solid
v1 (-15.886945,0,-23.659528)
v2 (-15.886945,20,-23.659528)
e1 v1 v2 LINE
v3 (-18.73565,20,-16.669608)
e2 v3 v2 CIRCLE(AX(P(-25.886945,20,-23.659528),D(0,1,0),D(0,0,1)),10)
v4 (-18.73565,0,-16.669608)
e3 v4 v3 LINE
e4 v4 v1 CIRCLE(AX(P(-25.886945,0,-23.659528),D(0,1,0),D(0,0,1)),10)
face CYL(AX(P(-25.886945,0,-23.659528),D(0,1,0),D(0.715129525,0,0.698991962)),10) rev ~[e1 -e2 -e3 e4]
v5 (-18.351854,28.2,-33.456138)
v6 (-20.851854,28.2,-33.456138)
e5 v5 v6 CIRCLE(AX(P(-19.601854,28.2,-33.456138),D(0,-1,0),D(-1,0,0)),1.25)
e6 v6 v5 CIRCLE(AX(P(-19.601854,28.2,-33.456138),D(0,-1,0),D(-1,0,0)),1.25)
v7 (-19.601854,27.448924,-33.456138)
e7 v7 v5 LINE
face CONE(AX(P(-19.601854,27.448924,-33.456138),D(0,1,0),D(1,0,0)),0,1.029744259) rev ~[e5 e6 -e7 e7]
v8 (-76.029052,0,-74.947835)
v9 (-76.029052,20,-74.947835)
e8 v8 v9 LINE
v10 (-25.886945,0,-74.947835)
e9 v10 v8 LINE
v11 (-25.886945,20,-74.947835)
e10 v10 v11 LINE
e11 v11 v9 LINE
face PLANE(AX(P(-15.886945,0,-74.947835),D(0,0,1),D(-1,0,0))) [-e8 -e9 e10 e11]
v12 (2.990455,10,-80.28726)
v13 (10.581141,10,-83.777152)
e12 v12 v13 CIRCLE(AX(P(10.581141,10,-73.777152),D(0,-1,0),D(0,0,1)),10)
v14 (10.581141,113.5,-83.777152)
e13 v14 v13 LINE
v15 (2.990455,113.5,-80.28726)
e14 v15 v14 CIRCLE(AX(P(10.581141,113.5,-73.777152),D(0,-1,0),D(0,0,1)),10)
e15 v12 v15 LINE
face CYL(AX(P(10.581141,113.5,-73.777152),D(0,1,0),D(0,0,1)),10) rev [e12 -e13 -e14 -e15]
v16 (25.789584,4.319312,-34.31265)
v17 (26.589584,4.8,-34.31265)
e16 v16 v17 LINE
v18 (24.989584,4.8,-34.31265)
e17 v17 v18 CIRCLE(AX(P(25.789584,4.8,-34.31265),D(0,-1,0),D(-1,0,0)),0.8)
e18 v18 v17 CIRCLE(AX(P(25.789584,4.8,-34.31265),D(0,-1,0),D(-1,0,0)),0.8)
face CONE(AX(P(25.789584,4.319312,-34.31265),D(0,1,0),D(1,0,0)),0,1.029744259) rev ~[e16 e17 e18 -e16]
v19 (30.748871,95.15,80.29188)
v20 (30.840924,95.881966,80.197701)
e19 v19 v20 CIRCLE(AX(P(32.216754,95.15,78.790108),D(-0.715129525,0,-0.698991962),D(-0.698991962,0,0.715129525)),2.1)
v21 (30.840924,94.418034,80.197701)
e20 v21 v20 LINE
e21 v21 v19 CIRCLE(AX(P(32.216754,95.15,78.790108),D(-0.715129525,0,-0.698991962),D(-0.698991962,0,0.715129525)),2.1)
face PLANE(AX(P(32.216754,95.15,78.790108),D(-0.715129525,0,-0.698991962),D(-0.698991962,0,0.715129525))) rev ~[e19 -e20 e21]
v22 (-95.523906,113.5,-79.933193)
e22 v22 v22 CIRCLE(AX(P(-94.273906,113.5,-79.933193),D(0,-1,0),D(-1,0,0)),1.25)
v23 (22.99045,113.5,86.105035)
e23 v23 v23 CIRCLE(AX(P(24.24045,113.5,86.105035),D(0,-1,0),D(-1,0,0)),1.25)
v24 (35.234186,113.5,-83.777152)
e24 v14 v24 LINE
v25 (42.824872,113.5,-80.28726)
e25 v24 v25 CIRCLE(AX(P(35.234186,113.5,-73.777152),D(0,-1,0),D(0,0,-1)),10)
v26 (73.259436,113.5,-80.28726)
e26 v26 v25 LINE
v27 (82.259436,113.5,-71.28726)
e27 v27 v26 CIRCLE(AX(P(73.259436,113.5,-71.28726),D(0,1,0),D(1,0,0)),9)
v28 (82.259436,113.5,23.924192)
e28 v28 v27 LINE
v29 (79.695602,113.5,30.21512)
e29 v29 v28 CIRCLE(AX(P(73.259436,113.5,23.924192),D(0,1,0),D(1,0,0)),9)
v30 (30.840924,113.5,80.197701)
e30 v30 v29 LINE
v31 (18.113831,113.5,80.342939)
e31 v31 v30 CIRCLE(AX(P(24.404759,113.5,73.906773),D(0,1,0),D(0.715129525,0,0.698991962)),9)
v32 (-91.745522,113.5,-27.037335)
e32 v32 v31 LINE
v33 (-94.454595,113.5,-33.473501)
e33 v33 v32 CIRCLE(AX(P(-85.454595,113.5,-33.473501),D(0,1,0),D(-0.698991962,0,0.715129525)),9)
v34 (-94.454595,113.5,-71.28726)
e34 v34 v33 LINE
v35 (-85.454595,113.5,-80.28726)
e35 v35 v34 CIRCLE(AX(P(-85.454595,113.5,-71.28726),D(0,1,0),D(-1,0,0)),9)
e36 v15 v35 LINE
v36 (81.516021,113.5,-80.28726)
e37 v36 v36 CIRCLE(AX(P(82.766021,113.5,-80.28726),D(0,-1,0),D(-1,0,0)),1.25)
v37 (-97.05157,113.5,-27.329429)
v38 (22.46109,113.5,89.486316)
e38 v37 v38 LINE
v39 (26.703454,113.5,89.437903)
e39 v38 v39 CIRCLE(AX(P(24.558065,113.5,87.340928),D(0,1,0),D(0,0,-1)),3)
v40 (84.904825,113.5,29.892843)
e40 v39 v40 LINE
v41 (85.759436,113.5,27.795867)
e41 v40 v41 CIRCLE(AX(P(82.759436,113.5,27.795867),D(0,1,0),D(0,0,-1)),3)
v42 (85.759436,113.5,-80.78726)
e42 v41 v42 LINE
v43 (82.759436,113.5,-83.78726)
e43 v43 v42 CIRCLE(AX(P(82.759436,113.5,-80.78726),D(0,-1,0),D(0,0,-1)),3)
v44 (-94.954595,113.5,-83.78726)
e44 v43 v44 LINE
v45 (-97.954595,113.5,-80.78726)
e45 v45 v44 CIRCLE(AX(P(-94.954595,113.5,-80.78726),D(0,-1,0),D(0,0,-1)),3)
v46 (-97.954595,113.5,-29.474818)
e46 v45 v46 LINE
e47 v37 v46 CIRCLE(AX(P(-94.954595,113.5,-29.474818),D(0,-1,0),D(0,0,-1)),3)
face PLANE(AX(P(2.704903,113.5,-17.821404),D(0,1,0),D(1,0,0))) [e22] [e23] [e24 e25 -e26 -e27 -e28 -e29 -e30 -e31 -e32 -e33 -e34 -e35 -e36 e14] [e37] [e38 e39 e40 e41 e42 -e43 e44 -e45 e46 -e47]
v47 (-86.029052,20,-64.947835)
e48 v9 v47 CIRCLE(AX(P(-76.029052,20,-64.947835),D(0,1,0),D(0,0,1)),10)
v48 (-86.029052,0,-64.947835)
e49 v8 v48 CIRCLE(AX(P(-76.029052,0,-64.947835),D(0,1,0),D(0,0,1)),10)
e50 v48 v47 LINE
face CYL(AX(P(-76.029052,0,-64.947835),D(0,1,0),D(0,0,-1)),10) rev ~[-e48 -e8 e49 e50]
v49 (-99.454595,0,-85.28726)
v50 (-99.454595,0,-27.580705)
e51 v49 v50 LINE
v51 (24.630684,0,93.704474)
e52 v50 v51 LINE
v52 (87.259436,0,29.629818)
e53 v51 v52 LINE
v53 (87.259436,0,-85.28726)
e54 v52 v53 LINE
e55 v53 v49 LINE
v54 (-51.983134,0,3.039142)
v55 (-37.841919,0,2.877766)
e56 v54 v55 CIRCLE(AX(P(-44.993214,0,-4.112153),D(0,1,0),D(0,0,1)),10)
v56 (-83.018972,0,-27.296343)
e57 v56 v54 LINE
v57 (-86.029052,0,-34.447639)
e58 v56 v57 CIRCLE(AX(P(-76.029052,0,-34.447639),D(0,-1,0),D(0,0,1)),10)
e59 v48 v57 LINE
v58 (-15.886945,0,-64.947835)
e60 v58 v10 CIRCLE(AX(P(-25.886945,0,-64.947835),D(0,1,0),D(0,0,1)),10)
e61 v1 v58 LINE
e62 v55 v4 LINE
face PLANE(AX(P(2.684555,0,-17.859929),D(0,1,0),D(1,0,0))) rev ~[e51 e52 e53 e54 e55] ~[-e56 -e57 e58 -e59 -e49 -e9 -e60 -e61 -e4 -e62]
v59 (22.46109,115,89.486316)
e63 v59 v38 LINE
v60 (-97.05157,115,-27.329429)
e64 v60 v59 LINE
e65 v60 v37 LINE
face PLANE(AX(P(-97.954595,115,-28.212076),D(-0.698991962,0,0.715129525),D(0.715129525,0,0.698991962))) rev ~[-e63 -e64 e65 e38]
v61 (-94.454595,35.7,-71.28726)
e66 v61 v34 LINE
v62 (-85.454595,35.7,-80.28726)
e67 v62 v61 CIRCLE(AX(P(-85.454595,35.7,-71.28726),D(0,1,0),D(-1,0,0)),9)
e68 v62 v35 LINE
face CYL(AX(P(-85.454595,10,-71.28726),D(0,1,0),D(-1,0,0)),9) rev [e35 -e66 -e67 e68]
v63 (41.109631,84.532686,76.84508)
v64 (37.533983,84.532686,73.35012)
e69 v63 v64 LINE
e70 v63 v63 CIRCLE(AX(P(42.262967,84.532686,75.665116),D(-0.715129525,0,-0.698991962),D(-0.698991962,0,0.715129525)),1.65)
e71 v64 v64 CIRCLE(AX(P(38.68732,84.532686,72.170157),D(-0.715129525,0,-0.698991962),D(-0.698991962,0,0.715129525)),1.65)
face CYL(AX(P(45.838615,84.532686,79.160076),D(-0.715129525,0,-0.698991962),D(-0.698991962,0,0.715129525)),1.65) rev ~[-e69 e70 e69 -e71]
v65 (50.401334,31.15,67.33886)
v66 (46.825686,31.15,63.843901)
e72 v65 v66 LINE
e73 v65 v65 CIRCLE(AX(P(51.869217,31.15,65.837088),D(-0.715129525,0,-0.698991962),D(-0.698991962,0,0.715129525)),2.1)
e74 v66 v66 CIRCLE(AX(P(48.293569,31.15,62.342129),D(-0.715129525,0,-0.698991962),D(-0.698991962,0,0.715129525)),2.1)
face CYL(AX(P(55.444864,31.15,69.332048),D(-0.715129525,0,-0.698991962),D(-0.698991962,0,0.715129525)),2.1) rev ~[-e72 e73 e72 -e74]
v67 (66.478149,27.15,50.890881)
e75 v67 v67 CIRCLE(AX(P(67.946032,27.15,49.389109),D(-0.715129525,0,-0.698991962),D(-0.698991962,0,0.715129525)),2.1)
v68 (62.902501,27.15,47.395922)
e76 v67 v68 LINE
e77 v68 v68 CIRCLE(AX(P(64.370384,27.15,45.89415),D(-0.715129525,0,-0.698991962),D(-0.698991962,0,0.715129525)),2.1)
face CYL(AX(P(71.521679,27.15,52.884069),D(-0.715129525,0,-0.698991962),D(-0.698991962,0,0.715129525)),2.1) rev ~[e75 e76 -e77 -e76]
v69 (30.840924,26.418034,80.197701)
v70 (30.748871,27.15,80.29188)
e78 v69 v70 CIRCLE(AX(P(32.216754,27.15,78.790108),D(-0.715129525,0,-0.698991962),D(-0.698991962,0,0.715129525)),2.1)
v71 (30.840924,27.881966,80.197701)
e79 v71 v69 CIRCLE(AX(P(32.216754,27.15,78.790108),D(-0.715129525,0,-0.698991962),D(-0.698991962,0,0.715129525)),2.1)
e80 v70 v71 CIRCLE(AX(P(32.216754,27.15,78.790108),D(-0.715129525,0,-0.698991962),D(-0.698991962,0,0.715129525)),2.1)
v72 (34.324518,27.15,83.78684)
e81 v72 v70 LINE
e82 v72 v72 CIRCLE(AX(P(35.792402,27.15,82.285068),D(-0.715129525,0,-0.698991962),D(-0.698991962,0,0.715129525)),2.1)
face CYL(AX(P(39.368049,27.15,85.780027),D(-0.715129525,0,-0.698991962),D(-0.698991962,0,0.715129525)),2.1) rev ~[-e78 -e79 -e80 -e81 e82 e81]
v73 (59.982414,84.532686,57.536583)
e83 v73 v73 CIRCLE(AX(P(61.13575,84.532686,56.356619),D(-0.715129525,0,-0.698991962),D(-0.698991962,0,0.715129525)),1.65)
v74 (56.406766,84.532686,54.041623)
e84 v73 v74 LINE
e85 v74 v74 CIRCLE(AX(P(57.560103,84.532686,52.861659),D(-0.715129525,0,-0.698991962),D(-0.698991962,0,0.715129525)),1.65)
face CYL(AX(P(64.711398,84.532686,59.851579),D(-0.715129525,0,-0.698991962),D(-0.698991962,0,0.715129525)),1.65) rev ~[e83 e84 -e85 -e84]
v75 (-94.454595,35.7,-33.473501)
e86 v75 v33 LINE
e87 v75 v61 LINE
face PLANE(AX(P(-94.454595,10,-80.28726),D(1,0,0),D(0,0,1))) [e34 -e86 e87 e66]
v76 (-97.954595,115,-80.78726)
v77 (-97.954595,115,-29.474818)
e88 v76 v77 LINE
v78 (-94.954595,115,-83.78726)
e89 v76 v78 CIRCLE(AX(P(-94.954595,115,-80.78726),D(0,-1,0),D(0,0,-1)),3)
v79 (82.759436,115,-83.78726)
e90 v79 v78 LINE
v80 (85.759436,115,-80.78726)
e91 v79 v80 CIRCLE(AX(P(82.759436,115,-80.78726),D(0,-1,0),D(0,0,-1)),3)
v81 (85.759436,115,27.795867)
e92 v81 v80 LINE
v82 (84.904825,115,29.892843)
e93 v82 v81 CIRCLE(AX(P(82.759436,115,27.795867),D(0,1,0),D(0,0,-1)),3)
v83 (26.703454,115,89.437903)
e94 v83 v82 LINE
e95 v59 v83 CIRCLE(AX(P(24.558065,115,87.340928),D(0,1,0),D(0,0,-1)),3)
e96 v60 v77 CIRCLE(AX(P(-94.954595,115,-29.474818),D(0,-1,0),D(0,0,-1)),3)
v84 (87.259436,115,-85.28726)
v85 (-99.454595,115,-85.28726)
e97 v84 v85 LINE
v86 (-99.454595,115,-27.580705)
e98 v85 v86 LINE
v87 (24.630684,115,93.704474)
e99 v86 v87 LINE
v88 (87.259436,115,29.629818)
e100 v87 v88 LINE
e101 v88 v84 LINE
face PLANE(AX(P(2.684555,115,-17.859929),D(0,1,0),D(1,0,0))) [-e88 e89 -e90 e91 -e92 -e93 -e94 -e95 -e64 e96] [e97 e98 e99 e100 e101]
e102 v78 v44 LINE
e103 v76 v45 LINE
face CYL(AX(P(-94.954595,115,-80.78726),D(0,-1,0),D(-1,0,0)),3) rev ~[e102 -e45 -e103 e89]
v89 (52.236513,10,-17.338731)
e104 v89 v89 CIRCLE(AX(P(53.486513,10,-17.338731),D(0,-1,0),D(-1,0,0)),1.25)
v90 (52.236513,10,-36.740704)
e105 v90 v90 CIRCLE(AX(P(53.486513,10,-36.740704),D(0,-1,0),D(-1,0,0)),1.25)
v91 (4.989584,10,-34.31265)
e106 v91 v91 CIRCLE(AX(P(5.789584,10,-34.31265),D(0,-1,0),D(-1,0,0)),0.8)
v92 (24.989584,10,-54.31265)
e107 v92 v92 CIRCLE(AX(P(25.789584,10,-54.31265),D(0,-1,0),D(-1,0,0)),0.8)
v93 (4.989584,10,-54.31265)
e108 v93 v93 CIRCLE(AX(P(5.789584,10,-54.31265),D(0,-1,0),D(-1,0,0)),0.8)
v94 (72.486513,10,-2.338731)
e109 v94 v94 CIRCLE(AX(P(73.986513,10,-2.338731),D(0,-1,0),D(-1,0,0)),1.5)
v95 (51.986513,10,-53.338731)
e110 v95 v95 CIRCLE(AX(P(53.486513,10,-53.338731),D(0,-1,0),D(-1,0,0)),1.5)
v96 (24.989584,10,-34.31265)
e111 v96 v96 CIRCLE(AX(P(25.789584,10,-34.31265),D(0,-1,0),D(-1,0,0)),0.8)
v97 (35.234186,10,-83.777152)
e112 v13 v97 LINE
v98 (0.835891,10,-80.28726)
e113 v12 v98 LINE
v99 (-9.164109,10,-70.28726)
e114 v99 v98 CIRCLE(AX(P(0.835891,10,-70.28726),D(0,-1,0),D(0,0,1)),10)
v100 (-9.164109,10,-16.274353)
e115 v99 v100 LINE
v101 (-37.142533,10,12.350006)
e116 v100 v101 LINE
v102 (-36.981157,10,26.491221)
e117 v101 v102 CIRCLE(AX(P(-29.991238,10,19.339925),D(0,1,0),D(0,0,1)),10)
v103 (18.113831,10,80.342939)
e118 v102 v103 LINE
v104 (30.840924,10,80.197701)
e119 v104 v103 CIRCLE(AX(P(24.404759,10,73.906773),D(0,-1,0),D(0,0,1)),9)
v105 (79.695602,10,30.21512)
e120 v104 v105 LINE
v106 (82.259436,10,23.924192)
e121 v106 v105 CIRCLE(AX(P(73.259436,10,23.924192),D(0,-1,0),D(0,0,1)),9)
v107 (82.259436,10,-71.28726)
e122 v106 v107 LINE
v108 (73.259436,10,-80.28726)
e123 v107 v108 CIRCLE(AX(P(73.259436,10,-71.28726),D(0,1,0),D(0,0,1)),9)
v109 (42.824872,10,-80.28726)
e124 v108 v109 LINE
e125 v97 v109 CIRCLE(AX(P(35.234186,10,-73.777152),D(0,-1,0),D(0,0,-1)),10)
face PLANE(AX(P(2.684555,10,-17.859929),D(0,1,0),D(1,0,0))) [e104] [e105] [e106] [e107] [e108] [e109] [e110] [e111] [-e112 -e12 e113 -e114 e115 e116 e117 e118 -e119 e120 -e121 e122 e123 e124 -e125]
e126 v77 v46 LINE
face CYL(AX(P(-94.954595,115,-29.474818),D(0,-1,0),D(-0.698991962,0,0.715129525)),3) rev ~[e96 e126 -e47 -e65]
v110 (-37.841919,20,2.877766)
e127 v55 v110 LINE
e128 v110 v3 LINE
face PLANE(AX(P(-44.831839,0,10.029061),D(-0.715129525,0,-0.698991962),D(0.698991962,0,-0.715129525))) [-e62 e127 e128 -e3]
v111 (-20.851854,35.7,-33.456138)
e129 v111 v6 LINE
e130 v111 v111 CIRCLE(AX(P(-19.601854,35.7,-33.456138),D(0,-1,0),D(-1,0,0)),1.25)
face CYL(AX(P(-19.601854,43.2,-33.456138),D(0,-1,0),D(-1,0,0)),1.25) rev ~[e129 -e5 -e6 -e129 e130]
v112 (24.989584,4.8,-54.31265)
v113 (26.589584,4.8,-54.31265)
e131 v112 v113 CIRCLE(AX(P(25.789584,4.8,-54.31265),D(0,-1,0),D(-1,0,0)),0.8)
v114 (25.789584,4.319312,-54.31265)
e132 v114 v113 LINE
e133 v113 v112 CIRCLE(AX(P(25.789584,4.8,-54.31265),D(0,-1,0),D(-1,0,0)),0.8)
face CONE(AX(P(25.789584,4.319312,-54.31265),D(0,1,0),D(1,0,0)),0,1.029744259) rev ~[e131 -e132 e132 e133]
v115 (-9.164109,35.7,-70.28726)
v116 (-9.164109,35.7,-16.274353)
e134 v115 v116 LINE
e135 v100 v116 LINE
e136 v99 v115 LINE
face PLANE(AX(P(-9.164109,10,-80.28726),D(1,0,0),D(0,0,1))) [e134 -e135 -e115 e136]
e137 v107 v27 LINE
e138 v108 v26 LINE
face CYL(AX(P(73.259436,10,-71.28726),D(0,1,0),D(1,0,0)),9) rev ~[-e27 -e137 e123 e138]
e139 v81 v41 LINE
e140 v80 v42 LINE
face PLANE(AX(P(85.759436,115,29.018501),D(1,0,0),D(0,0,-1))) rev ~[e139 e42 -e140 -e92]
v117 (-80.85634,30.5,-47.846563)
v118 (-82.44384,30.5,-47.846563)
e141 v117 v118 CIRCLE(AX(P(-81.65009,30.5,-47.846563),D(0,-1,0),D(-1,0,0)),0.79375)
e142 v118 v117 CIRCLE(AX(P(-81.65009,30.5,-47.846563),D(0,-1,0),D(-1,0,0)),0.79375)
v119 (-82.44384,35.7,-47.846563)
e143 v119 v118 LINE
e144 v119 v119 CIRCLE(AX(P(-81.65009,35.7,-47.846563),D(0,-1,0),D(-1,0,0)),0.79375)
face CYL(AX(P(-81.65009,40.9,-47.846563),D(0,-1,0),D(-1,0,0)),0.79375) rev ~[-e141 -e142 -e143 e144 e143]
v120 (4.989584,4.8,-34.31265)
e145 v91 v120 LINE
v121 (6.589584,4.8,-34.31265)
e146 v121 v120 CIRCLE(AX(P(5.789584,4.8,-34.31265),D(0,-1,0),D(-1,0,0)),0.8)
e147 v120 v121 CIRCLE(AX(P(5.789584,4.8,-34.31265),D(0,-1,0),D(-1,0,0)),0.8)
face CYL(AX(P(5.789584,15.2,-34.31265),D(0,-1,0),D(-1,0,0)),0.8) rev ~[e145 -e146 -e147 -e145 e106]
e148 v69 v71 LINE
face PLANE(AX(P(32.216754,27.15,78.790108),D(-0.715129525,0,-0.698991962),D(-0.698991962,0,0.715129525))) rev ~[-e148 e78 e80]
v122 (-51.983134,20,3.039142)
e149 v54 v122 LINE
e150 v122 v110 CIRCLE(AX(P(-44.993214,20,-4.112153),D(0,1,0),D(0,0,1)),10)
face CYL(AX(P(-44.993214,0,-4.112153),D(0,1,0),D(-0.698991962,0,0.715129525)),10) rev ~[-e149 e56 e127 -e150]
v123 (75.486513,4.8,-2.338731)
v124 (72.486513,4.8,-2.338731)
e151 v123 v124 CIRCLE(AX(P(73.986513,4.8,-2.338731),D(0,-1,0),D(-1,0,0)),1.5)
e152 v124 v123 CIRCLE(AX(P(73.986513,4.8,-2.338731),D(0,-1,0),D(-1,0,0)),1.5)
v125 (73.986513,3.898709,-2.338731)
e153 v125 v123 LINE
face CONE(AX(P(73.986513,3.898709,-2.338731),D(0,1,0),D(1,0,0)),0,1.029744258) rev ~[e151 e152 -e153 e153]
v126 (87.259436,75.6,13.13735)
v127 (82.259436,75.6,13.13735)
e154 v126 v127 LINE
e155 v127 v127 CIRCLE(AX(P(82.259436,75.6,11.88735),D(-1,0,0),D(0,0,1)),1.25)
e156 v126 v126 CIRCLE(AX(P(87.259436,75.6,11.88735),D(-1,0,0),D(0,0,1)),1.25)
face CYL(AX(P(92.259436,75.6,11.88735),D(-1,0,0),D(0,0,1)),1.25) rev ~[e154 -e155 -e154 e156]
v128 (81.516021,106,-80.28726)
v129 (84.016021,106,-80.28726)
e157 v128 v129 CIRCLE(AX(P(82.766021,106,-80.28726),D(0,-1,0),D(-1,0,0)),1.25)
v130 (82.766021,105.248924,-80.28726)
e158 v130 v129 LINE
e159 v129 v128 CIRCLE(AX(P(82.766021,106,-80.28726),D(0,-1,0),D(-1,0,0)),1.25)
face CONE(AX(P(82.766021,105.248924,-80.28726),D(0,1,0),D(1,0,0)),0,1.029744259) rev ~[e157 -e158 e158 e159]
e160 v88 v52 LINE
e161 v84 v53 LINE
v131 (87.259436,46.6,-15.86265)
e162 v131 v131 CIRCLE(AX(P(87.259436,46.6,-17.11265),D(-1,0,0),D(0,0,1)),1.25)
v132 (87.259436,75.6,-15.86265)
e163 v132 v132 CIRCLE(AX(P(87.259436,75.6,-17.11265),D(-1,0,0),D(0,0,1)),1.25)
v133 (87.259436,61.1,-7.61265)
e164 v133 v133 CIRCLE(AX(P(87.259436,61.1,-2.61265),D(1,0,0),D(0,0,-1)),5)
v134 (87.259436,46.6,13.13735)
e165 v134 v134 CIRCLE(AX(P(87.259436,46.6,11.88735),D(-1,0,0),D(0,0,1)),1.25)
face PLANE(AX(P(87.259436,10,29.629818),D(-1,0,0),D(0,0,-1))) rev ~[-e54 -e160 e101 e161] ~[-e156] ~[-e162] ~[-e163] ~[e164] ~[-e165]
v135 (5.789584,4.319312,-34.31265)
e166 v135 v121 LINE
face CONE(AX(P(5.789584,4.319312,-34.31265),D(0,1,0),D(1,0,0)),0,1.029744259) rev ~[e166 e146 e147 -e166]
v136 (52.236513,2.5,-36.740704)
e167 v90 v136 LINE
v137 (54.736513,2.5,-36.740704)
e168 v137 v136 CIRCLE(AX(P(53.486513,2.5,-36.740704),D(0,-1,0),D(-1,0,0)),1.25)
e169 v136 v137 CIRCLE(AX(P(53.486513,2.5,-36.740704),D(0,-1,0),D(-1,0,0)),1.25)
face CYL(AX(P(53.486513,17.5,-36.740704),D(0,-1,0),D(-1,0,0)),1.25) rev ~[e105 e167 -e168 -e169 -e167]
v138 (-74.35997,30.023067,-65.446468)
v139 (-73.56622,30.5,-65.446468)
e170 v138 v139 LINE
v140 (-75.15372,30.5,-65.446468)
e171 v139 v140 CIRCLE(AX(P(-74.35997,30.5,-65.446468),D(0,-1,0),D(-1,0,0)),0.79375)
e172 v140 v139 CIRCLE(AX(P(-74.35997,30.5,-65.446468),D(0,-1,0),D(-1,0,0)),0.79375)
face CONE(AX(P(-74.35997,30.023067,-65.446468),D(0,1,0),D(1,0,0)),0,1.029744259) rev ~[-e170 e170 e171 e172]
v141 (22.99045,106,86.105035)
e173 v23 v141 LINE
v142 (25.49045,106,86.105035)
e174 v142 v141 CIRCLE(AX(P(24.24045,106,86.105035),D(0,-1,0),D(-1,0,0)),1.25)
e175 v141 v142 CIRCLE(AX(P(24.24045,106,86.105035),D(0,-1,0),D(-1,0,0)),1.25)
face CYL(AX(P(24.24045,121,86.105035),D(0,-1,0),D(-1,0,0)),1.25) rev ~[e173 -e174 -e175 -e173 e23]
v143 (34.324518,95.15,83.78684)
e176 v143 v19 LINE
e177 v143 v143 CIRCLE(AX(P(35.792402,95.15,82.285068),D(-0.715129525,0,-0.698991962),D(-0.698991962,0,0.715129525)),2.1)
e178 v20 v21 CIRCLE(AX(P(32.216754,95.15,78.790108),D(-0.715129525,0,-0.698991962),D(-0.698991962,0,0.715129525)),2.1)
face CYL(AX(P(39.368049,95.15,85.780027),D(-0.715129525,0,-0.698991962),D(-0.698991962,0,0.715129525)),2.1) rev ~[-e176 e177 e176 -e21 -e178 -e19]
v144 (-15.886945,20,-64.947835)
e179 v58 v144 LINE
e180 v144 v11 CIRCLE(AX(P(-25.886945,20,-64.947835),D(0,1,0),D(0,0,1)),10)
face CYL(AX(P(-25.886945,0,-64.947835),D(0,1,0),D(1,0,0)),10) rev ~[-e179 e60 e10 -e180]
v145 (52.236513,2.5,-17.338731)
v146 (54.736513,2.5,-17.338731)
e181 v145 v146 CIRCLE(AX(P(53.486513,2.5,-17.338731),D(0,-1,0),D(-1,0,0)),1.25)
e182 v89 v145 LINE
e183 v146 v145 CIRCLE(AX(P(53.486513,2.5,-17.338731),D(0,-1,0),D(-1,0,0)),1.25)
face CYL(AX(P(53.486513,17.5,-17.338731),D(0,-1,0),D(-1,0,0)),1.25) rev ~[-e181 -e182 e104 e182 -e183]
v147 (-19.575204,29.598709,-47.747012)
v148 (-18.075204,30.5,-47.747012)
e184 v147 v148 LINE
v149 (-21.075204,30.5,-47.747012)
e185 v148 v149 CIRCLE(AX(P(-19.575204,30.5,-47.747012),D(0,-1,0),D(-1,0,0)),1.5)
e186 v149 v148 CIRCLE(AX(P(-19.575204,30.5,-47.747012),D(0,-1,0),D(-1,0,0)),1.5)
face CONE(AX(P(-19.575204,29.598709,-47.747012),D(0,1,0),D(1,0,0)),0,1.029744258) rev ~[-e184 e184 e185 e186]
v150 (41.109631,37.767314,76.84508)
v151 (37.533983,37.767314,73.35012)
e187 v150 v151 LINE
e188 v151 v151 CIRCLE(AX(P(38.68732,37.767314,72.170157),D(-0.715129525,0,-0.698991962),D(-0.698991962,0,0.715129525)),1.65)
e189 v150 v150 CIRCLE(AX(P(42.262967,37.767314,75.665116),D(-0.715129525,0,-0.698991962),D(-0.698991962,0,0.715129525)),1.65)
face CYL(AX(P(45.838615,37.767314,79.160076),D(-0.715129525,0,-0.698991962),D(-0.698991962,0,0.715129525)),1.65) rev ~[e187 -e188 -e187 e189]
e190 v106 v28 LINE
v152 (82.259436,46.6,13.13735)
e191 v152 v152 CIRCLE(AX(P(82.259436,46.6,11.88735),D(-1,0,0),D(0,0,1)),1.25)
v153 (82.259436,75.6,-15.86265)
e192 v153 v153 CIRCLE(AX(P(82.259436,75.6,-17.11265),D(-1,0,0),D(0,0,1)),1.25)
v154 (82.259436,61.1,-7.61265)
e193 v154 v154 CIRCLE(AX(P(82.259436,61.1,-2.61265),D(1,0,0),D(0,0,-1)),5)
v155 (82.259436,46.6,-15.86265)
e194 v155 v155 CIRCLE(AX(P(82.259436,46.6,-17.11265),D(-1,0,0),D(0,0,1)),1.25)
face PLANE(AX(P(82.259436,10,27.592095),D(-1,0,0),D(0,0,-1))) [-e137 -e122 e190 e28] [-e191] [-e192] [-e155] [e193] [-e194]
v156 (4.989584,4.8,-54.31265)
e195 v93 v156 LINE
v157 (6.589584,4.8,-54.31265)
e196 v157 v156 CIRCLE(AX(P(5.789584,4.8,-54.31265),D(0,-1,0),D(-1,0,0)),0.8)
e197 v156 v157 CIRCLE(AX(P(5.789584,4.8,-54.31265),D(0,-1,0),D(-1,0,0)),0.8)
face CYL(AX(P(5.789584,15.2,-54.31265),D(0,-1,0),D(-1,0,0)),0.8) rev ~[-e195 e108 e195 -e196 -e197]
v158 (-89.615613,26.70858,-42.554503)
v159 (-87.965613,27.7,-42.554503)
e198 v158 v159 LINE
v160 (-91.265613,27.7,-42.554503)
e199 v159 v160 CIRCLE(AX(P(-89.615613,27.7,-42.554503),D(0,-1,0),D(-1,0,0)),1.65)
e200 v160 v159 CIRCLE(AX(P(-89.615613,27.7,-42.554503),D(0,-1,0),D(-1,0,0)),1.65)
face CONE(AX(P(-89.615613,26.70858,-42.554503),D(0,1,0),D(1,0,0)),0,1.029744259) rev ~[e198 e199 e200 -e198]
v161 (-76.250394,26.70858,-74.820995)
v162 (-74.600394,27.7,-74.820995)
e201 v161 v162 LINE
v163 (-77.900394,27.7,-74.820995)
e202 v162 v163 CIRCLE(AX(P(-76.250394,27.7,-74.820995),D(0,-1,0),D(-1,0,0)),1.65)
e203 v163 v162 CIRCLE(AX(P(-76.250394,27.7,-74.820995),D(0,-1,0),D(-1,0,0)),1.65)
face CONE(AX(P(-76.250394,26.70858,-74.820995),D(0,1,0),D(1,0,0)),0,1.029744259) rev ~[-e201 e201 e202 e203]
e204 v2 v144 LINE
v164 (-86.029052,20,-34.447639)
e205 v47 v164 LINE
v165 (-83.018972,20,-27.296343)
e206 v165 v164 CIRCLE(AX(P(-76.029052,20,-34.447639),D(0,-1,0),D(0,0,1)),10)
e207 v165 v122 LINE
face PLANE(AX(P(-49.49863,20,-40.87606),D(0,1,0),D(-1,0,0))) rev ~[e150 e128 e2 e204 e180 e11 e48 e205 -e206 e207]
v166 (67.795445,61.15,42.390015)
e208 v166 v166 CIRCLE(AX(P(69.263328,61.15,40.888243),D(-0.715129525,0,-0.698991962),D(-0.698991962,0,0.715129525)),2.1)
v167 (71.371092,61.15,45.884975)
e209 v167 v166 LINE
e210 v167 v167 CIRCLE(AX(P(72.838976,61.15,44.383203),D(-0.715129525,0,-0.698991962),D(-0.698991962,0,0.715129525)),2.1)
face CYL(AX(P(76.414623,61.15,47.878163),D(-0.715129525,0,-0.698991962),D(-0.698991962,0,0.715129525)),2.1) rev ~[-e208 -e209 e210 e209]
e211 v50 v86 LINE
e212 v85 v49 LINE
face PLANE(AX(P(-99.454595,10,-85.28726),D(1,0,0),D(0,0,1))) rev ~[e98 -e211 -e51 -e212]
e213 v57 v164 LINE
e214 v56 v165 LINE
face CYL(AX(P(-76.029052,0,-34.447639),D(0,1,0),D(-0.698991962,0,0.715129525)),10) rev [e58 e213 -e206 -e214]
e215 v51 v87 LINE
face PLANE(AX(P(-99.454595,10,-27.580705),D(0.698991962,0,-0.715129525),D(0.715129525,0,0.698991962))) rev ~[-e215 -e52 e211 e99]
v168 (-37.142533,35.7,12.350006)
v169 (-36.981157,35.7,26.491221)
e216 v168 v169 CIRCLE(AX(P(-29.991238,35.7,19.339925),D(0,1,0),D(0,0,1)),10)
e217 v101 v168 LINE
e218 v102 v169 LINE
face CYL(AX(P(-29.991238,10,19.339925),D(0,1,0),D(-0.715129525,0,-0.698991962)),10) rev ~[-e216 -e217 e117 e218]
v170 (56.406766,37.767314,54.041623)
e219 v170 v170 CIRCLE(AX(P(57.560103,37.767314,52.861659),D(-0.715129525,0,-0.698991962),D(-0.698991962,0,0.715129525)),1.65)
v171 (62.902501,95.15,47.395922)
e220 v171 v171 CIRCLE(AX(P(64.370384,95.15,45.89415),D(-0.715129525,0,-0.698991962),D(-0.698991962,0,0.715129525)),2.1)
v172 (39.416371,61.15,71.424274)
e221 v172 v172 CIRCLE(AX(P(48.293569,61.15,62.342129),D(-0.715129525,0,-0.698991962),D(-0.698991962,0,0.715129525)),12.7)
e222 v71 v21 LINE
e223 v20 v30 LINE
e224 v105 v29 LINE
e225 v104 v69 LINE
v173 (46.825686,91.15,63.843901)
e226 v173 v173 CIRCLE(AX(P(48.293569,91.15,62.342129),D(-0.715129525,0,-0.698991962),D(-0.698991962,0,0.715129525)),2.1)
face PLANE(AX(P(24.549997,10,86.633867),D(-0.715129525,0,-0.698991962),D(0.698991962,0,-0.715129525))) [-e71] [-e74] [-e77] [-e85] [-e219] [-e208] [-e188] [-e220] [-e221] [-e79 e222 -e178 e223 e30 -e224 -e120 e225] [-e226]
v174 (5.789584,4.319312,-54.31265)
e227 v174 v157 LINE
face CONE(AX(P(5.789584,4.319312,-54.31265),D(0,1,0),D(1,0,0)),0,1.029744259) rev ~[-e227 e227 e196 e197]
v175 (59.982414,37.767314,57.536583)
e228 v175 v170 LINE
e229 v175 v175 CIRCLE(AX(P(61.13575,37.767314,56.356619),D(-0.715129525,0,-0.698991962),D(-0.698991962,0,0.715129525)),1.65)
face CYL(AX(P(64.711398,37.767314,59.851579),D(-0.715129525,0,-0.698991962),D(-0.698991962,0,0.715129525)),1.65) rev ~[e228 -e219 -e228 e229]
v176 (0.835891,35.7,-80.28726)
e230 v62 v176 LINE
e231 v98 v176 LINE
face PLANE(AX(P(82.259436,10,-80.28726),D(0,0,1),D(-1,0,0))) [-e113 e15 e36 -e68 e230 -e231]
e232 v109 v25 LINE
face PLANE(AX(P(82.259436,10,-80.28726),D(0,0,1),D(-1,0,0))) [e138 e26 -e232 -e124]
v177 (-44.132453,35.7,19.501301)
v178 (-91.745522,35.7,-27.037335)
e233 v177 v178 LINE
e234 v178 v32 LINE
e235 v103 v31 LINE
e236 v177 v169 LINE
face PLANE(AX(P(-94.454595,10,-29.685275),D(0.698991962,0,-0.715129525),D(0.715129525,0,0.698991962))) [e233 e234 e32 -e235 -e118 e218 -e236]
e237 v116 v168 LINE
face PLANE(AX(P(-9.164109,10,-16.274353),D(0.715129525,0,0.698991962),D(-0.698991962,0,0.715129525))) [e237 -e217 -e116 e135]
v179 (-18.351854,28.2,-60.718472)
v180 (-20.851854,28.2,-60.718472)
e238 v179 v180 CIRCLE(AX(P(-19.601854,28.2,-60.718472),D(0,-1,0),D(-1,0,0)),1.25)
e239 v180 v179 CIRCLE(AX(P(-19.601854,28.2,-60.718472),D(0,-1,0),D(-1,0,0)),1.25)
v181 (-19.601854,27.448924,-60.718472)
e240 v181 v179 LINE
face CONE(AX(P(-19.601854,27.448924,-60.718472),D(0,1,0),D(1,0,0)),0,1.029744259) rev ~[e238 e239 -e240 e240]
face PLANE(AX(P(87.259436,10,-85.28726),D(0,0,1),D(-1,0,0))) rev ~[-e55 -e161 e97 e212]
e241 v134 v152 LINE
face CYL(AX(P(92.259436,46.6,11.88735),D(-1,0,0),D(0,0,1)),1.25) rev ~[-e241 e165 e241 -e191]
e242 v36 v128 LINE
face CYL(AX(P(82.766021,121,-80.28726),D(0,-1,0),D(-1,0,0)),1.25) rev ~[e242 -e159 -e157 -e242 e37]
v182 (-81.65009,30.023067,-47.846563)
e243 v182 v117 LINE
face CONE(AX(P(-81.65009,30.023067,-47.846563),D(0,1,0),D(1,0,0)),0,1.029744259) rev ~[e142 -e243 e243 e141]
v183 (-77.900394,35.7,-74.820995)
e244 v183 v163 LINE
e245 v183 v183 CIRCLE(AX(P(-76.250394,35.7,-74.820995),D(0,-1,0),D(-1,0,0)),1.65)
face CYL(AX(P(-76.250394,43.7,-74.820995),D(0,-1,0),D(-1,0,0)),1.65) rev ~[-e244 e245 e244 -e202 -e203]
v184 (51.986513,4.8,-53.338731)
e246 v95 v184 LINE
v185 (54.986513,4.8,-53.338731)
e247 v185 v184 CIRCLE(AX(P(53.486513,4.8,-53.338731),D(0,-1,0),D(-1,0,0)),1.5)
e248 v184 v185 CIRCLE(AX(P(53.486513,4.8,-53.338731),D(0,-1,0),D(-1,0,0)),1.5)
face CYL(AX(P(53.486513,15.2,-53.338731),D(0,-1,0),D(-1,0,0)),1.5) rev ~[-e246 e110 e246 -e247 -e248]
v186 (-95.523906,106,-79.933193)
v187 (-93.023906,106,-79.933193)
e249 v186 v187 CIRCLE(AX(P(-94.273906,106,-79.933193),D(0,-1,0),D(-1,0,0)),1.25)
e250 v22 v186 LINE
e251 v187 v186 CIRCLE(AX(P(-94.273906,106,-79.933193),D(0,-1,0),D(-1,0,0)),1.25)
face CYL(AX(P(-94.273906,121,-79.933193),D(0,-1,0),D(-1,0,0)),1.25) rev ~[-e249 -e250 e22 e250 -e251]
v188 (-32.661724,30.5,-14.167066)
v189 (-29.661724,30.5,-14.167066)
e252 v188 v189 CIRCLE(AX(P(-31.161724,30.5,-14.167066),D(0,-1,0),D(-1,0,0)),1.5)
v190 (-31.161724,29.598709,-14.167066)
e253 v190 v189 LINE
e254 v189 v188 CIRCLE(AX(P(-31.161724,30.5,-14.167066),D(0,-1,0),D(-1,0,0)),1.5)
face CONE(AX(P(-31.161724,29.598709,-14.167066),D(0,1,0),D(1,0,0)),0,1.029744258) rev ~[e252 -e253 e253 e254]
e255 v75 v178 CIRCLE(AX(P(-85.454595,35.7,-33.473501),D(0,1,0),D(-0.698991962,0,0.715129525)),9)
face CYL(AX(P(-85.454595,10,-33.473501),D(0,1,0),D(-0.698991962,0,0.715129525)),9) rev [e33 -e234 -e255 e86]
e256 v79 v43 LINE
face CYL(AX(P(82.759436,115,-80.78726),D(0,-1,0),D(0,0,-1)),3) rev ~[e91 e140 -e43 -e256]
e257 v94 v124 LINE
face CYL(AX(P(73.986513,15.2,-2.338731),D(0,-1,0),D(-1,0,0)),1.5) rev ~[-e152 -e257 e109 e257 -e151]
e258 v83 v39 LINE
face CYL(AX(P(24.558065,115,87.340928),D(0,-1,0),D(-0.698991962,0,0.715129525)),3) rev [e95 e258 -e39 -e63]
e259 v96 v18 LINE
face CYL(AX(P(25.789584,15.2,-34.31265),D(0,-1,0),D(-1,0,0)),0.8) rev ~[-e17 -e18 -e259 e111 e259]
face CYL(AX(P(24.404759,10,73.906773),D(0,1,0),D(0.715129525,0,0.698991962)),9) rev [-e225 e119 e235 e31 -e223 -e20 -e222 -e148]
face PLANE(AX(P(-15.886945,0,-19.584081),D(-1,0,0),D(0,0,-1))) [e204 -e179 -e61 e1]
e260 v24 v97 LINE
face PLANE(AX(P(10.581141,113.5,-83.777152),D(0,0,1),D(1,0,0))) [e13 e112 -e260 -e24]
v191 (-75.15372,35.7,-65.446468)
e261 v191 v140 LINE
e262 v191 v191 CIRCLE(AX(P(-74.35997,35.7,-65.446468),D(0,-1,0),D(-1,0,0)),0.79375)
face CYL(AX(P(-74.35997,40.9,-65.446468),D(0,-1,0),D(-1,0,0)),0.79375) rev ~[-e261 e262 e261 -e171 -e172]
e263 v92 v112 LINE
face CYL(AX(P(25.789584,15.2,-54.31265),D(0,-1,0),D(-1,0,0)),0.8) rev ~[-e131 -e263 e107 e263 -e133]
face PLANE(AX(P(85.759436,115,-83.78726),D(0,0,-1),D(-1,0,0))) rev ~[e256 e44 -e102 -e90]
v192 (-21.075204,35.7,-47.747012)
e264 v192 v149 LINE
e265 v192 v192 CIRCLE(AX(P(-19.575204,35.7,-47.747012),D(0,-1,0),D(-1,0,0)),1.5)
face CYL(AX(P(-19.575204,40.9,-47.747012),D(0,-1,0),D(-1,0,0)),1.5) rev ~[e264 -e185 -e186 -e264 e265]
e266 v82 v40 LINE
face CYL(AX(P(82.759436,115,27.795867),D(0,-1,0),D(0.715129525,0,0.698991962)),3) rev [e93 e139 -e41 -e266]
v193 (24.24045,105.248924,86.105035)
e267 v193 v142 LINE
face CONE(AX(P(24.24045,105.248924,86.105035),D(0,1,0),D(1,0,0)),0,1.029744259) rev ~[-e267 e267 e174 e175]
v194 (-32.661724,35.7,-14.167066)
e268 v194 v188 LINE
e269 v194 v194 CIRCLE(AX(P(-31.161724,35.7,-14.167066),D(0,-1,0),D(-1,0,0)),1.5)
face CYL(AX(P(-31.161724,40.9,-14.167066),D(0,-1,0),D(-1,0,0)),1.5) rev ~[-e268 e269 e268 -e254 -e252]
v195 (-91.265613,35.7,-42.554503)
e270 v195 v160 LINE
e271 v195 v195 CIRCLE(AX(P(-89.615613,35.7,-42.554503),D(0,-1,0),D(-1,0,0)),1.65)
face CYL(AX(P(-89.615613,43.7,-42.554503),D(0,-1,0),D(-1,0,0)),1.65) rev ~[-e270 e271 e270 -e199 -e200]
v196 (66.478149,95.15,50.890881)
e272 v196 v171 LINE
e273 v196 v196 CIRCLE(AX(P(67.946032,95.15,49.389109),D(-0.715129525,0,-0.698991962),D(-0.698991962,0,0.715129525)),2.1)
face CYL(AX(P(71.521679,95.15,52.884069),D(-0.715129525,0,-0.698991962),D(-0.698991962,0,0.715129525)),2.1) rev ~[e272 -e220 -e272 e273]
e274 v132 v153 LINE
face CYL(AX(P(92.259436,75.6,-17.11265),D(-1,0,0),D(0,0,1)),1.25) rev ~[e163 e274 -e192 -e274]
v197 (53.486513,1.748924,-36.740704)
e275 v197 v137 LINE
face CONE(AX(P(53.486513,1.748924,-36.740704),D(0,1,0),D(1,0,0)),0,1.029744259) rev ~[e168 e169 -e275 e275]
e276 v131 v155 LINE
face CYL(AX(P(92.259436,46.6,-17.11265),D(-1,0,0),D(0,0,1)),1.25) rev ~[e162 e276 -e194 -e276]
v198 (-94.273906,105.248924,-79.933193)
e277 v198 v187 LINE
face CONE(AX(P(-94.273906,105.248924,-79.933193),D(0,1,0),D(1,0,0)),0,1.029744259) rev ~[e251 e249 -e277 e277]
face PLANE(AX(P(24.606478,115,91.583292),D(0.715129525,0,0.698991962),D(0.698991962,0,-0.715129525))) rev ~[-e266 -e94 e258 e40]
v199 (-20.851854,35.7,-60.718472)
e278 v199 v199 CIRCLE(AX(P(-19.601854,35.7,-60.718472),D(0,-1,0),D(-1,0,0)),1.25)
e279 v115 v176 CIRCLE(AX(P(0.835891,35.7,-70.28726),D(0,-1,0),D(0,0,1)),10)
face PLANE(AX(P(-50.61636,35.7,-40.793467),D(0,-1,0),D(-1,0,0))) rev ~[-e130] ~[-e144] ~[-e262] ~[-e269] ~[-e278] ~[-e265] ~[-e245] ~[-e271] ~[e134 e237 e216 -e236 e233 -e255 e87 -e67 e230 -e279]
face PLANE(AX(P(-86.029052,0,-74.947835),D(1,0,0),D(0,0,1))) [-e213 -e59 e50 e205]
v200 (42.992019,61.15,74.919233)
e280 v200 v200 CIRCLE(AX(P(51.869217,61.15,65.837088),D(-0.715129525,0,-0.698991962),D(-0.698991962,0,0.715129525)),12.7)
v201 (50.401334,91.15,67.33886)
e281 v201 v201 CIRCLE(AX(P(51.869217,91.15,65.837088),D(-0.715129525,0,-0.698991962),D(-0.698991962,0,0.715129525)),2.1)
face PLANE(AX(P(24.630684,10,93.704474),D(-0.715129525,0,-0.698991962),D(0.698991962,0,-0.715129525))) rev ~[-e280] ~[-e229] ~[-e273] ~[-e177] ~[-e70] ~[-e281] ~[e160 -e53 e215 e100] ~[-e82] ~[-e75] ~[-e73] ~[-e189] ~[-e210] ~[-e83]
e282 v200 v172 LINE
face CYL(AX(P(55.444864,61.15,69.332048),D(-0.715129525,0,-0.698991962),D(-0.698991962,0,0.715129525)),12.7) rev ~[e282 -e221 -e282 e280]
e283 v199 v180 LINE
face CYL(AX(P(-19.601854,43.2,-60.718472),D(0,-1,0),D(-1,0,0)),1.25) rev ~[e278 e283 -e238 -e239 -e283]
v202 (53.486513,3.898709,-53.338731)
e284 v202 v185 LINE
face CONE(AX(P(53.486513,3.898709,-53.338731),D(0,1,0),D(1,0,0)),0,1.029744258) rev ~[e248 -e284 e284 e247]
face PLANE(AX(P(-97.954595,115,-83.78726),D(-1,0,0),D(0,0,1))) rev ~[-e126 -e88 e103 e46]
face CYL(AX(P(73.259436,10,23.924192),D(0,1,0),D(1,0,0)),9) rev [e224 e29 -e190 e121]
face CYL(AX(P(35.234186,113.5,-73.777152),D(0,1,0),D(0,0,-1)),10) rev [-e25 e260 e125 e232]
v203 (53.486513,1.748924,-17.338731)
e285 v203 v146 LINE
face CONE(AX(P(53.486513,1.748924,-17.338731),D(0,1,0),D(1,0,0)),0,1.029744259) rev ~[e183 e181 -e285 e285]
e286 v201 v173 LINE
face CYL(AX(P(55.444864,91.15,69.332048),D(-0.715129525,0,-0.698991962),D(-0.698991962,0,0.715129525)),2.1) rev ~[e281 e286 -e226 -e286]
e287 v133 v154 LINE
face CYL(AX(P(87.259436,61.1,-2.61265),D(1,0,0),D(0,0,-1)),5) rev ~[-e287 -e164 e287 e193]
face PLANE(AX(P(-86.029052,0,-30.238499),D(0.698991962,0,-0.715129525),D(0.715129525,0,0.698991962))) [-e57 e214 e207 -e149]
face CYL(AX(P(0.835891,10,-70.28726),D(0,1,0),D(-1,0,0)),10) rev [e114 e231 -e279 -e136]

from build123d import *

# Parameters (mm, degrees)
BOSS_EXTRUDE3_DEPTH             = 10
BOSS_EXTRUDE5_DEPTH             = 105
FILLET2_R                       = 9
BOSS_EXTRUDE7_DEPTH             = 25.7
FILLET3_R                       = 10
FILLET4_R                       = 10
CUT_EXTRUDE4_DEPTH              = 1.5
FILLET5_R                       = 3
CUT_EXTRUDE5_DEPTH              = 20
FILLET6_R                       = 10
CUT_EXTRUDE6_REACH              = 188.714
SKETCH13_R                      = 5
M4X0_7_TAPPED_HOLE2_D           = 3.3
M4X0_7_TAPPED_HOLE2_DEPTH       = 5
SM1_TAPPED_HOLE1_D              = 25.4
SM1_TAPPED_HOLE1_DEPTH          = 5
M4X0_7_TAPPED_HOLE1_D           = 3.3
M4X0_7_TAPPED_HOLE1_DEPTH       = 8
M4X0_7_TAPPED_HOLE1_TIP         = 0.991420021
M2X0_4_TAPPED_HOLE1_D           = 1.6
M2X0_4_TAPPED_HOLE1_DEPTH       = 5.2
M2X0_4_TAPPED_HOLE1_TIP         = 0.480688495
M3X0_5_TAPPED_HOLE1_D           = 2.5
M3X0_5_TAPPED_HOLE1_DEPTH       = 7.5
M3X0_5_TAPPED_HOLE1_TIP         = 0.751075774
F_3_0MM_DOWEL_HOLE1_D           = 3
F_3_0MM_DOWEL_HOLE1_DEPTH       = 5.2
F_3_0MM_DOWEL_HOLE1_TIP         = 0.901290929
M3X0_5_TAPPED_HOLE2_D           = 2.5
M3X0_5_TAPPED_HOLE2_DEPTH       = 5
M3X0_5_TAPPED_HOLE3_D           = 2.5
M3X0_5_TAPPED_HOLE3_DEPTH       = 7.5
M3X0_5_TAPPED_HOLE3_TIP         = 0.751075774
F_1_16_0_0625_DOWEL_HOLE1_D     = 1.5875
F_1_16_0_0625_DOWEL_HOLE1_DEPTH = 5.2
F_1_16_0_0625_DOWEL_HOLE1_TIP   = 0.476933116
F_3_0MM_DOWEL_HOLE2_D           = 3
F_3_0MM_DOWEL_HOLE2_DEPTH       = 5.2
F_3_0MM_DOWEL_HOLE2_TIP         = 0.901290929
M3X0_5_TAPPED_HOLE4_D           = 2.5
M3X0_5_TAPPED_HOLE4_DEPTH       = 7.5
M3X0_5_TAPPED_HOLE4_TIP         = 0.751075774
CUT_EXTRUDE7_DEPTH              = 103.5
M5X0_8_TAPPED_HOLE2_D           = 4.2
M5X0_8_TAPPED_HOLE2_DEPTH       = 5
M5X0_8_TAPPED_HOLE3_D           = 4.2
M5X0_8_TAPPED_HOLE3_DEPTH       = 5


with BuildPart() as part:
    # Sketch1 → Boss-Extrude3 (new body)
    with BuildSketch(Plane(origin=(0, 0, 0), x_dir=(1, 0, 0), z_dir=(0, 1, 0))):
        Polygon((-99.454594588, 85.287259619), (-99.454594588, 27.580704883), (24.630684429, -93.704474274), (87.259436127, -29.629818302), (87.259436127, 85.287259619), align=None)
    extrude(amount=BOSS_EXTRUDE3_DEPTH)

    # Sketch6 → Boss-Extrude5 (add)
    with BuildSketch(Plane(origin=(0, 10, 0), x_dir=(1, 0, 0), z_dir=(0, 1, 0))):
        Polygon((-99.454594588, 85.287259619), (-99.454594588, 27.580704883), (24.630684429, -93.704474274), (87.259436127, -29.629818302), (87.259436127, 85.287259619), align=None)
        Polygon((82.259436127, 80.287259619), (-94.454594588, 80.287259619), (-94.454594588, 29.68527495), (24.549996611, -86.63386684), (82.259436127, -27.592094762), align=None, mode=Mode.SUBTRACT)
    extrude(amount=BOSS_EXTRUDE5_DEPTH)

    # Fillet2
    fillet2_edges = [part.edges().sort_by_distance(p)[0] for p in [
        (82.259436127, 62.5, -80.287259619),
        (-94.454594588, 62.5, -80.287259619),
        (-94.454594588, 62.5, -29.68527495),
        (24.549996611, 62.5, 86.63386684),
        (82.259436127, 62.5, 27.592094762),
    ]]
    fillet(fillet2_edges, radius=FILLET2_R)

    # Sketch9 → Boss-Extrude7 (add)
    with BuildSketch(Plane(origin=(0, 10, 0), x_dir=(1, 0, 0), z_dir=(0, 1, 0))):
        Polygon((-9.164109107, 80.287259619), (-9.164109107, 16.274353327), (-44.132452564, -19.501301083), (-96.380135247, 31.56736399), (-96.380135247, 80.287259619), align=None)
    extrude(amount=BOSS_EXTRUDE7_DEPTH)

    # Fillet3
    fillet3_edges = [part.edges().sort_by_distance(p)[0] for p in [
        (-44.132452564, 22.85, 19.501301083),
    ]]
    fillet(fillet3_edges, radius=FILLET3_R)

    # Fillet4
    fillet4_edges = [part.edges().sort_by_distance(p)[0] for p in [
        (-9.164109107, 22.85, -80.287259619),
    ]]
    fillet(fillet4_edges, radius=FILLET4_R)

    # Sketch10 → Cut-Extrude4 (cut)
    with BuildSketch(Plane(origin=(0, 115, 0), x_dir=(1, 0, 0), z_dir=(0, 1, 0))):
        Polygon((-97.954594588, 28.212075903), (24.606478083, -91.583292044), (85.759436127, -29.01850124), (85.759436127, 83.787259619), (-97.954594588, 83.787259619), align=None)
    extrude(amount=-CUT_EXTRUDE4_DEPTH, mode=Mode.SUBTRACT)

    # Fillet5
    fillet5_edges = [part.edges().sort_by_distance(p)[0] for p in [
        (-97.954594588, 114.25, -28.212075903),
        (-97.954594588, 114.25, -83.787259619),
        (85.759436127, 114.25, -83.787259619),
        (85.759436127, 114.25, 29.01850124),
        (24.606478083, 114.25, 91.583292044),
    ]]
    fillet(fillet5_edges, radius=FILLET5_R)

    # Sketch12 → Cut-Extrude5 (cut)
    with BuildSketch(Plane.XZ):
        Polygon((-86.029052321, -30.238498612), (-44.83183875, 10.029061474), (-15.886944756, -19.584080646), (-15.886944756, -74.947835353), (-86.029052321, -74.947835353), align=None)
    extrude(amount=-CUT_EXTRUDE5_DEPTH, mode=Mode.SUBTRACT)

    # Fillet6
    fillet6_edges = [part.edges().sort_by_distance(p)[0] for p in [
        (-86.029052321, 10, -74.947835353),
        (-86.029052321, 10, -30.238498612),
        (-44.83183875, 10, 10.029061474),
        (-15.886944756, 10, -19.584080646),
        (-15.886944756, 10, -74.947835353),
    ]]
    fillet(fillet6_edges, radius=FILLET6_R)

    # Sketch13 → Cut-Extrude6 (cut, up to next)
    with BuildSketch(Plane(origin=(87.259436127, 0, 0), x_dir=(0, 0, -1), z_dir=(1, 0, 0)), mode=Mode.PRIVATE) as cut_extrude6_sk1:
        with Locations((2.612649558, 61.1)):
            Circle(SKETCH13_R)
    cut_extrude6_tool1 = extrude(cut_extrude6_sk1.sketch, amount=-CUT_EXTRUDE6_REACH, mode=Mode.PRIVATE) & part.part
    add(cut_extrude6_tool1.solids().sort_by_distance((87.259436, 61.1, -2.61265))[0], mode=Mode.SUBTRACT)

    # M4x0.7 Tapped Hole2
    with Locations(Plane(origin=(59.436420011, 0, 58.095181851), x_dir=(0.698991962, 0, -0.715129525), z_dir=(0.715129525, 0, 0.698991962))):
        with Locations((2.431115729, 37.767314098), (2.431115729, 84.532685902), (-24.568884271, 84.532685902), (-24.568884271, 37.767314098)):
            Hole(M4X0_7_TAPPED_HOLE2_D / 2, depth=M4X0_7_TAPPED_HOLE2_DEPTH)

    # SM1 Tapped Hole1
    with Locations(Plane(origin=(59.436420011, 0, 58.095181851), x_dir=(0.698991962, 0, -0.715129525), z_dir=(0.715129525, 0, 0.698991962))):
        with Locations((-10.825880291, 61.15)):
            Hole(SM1_TAPPED_HOLE1_D / 2, depth=SM1_TAPPED_HOLE1_DEPTH)

    # M4x0.7 Tapped Hole1
    with Locations(Plane(origin=(0, 35.7, 0), x_dir=(1, 0, 0), z_dir=(0, 1, 0))):
        with Locations((-76.250393956, 74.820995384), (-89.615612831, 42.554502711)):
            Hole(M4X0_7_TAPPED_HOLE1_D / 2, depth=M4X0_7_TAPPED_HOLE1_DEPTH)
            with Locations((0, 0, -(M4X0_7_TAPPED_HOLE1_DEPTH + M4X0_7_TAPPED_HOLE1_TIP / 2))):  # 118° drill point
                Cone(0, M4X0_7_TAPPED_HOLE1_D / 2, M4X0_7_TAPPED_HOLE1_TIP, mode=Mode.SUBTRACT)

    # M2x0.4 Tapped Hole1
    with Locations(Plane(origin=(0, 10, 0), x_dir=(1, 0, 0), z_dir=(0, 1, 0))):
        with Locations((5.789584185, 54.312649558), (25.789584185, 54.312649558), (5.789584185, 34.312649558), (25.789584185, 34.312649558)):
            Hole(M2X0_4_TAPPED_HOLE1_D / 2, depth=M2X0_4_TAPPED_HOLE1_DEPTH)
            with Locations((0, 0, -(M2X0_4_TAPPED_HOLE1_DEPTH + M2X0_4_TAPPED_HOLE1_TIP / 2))):  # 118° drill point
                Cone(0, M2X0_4_TAPPED_HOLE1_D / 2, M2X0_4_TAPPED_HOLE1_TIP, mode=Mode.SUBTRACT)

    # M3x0.5 Tapped Hole1
    with Locations(Plane(origin=(0, 10, 0), x_dir=(1, 0, 0), z_dir=(0, 1, 0))):
        with Locations((53.486513194, 36.740704463), (53.486513194, 17.338730644)):
            Hole(M3X0_5_TAPPED_HOLE1_D / 2, depth=M3X0_5_TAPPED_HOLE1_DEPTH)
            with Locations((0, 0, -(M3X0_5_TAPPED_HOLE1_DEPTH + M3X0_5_TAPPED_HOLE1_TIP / 2))):  # 118° drill point
                Cone(0, M3X0_5_TAPPED_HOLE1_D / 2, M3X0_5_TAPPED_HOLE1_TIP, mode=Mode.SUBTRACT)

    # Ø3.0mm Dowel Hole1
    with Locations(Plane(origin=(0, 10, 0), x_dir=(1, 0, 0), z_dir=(0, 1, 0))):
        with Locations((73.986513194, 2.338730644), (53.486513194, 53.338730644)):
            Hole(F_3_0MM_DOWEL_HOLE1_D / 2, depth=F_3_0MM_DOWEL_HOLE1_DEPTH)
            with Locations((0, 0, -(F_3_0MM_DOWEL_HOLE1_DEPTH + F_3_0MM_DOWEL_HOLE1_TIP / 2))):  # 118° drill point
                Cone(0, F_3_0MM_DOWEL_HOLE1_D / 2, F_3_0MM_DOWEL_HOLE1_TIP, mode=Mode.SUBTRACT)

    # M3x0.5 Tapped Hole2
    with Locations(Plane(origin=(87.259436127, 0, 0), x_dir=(0, 0, -1), z_dir=(1, 0, 0))):
        with Locations((17.112649558, 75.6), (17.112649558, 46.6), (-11.887350442, 46.6), (-11.887350442, 75.6)):
            Hole(M3X0_5_TAPPED_HOLE2_D / 2, depth=M3X0_5_TAPPED_HOLE2_DEPTH)

    # M3x0.5 Tapped Hole3
    with Locations(Plane(origin=(0, 35.7, 0), x_dir=(1, 0, 0), z_dir=(0, 1, 0))):
        with Locations((-19.601854144, 60.718472071), (-19.601854144, 33.456137846)):
            Hole(M3X0_5_TAPPED_HOLE3_D / 2, depth=M3X0_5_TAPPED_HOLE3_DEPTH)
            with Locations((0, 0, -(M3X0_5_TAPPED_HOLE3_DEPTH + M3X0_5_TAPPED_HOLE3_TIP / 2))):  # 118° drill point
                Cone(0, M3X0_5_TAPPED_HOLE3_D / 2, M3X0_5_TAPPED_HOLE3_TIP, mode=Mode.SUBTRACT)

    # 1/16 (0.0625) Dowel Hole1
    with Locations(Plane(origin=(0, 35.7, 0), x_dir=(1, 0, 0), z_dir=(0, 1, 0))):
        with Locations((-81.65008966, 47.846563072), (-74.359970274, 65.446468166)):
            Hole(F_1_16_0_0625_DOWEL_HOLE1_D / 2, depth=F_1_16_0_0625_DOWEL_HOLE1_DEPTH)
            with Locations((0, 0, -(F_1_16_0_0625_DOWEL_HOLE1_DEPTH + F_1_16_0_0625_DOWEL_HOLE1_TIP / 2))):  # 118° drill point
                Cone(0, F_1_16_0_0625_DOWEL_HOLE1_D / 2, F_1_16_0_0625_DOWEL_HOLE1_TIP, mode=Mode.SUBTRACT)

    # Ø3.0mm Dowel Hole2
    with Locations(Plane(origin=(0, 35.7, 0), x_dir=(1, 0, 0), z_dir=(0, 1, 0))):
        with Locations((-19.575203756, 47.747012064), (-31.16172375, 14.167066106)):
            Hole(F_3_0MM_DOWEL_HOLE2_D / 2, depth=F_3_0MM_DOWEL_HOLE2_DEPTH)
            with Locations((0, 0, -(F_3_0MM_DOWEL_HOLE2_DEPTH + F_3_0MM_DOWEL_HOLE2_TIP / 2))):  # 118° drill point
                Cone(0, F_3_0MM_DOWEL_HOLE2_D / 2, F_3_0MM_DOWEL_HOLE2_TIP, mode=Mode.SUBTRACT)

    # M3x0.5 Tapped Hole4
    with Locations(Plane(origin=(0, 113.5, 0), x_dir=(1, 0, 0), z_dir=(0, 1, 0))):
        with Locations((-94.273905994, 79.93319266), (82.766021198, 80.287259619), (24.2404501, -86.105034639)):
            Hole(M3X0_5_TAPPED_HOLE4_D / 2, depth=M3X0_5_TAPPED_HOLE4_DEPTH)
            with Locations((0, 0, -(M3X0_5_TAPPED_HOLE4_DEPTH + M3X0_5_TAPPED_HOLE4_TIP / 2))):  # 118° drill point
                Cone(0, M3X0_5_TAPPED_HOLE4_D / 2, M3X0_5_TAPPED_HOLE4_TIP, mode=Mode.SUBTRACT)

    # Sketch44 → Cut-Extrude7 (cut)
    with BuildSketch(Plane(origin=(0, 113.5, 0), x_dir=(1, 0, 0), z_dir=(0, 1, 0))):
        with BuildLine():
            Line((10.581140502, 83.777152415), (35.2341862, 83.777152415))
            ThreePointArc((35.2341862, 83.777152415), (45.2341862, 73.777152415), (35.2341862, 63.777152415))
            Line((35.2341862, 63.777152415), (10.581140502, 63.777152415))
            ThreePointArc((10.581140502, 63.777152415), (0.581140502, 73.777152415), (10.581140502, 83.777152415))
        make_face()
    extrude(amount=-CUT_EXTRUDE7_DEPTH, mode=Mode.SUBTRACT)

    # M5x0.8 Tapped Hole2
    with Locations(Plane(origin=(59.436420011, 0, 58.095181851), x_dir=(0.698991962, 0, -0.715129525), z_dir=(0.715129525, 0, 0.698991962))):
        with Locations((-10.825880291, 91.15), (-10.825880291, 31.15), (19.174119709, 61.15)):
            Hole(M5X0_8_TAPPED_HOLE2_D / 2, depth=M5X0_8_TAPPED_HOLE2_DEPTH)

    # M5x0.8 Tapped Hole3
    with Locations(Plane(origin=(59.436420011, 0, 58.095181851), x_dir=(0.698991962, 0, -0.715129525), z_dir=(0.715129525, 0, 0.698991962))):
        with Locations((-33.825880291, 95.15), (12.174119709, 95.15), (12.174119709, 27.15), (-33.825880291, 27.15)):
            Hole(M5X0_8_TAPPED_HOLE3_D / 2, depth=M5X0_8_TAPPED_HOLE3_DEPTH)


solid = part.part
